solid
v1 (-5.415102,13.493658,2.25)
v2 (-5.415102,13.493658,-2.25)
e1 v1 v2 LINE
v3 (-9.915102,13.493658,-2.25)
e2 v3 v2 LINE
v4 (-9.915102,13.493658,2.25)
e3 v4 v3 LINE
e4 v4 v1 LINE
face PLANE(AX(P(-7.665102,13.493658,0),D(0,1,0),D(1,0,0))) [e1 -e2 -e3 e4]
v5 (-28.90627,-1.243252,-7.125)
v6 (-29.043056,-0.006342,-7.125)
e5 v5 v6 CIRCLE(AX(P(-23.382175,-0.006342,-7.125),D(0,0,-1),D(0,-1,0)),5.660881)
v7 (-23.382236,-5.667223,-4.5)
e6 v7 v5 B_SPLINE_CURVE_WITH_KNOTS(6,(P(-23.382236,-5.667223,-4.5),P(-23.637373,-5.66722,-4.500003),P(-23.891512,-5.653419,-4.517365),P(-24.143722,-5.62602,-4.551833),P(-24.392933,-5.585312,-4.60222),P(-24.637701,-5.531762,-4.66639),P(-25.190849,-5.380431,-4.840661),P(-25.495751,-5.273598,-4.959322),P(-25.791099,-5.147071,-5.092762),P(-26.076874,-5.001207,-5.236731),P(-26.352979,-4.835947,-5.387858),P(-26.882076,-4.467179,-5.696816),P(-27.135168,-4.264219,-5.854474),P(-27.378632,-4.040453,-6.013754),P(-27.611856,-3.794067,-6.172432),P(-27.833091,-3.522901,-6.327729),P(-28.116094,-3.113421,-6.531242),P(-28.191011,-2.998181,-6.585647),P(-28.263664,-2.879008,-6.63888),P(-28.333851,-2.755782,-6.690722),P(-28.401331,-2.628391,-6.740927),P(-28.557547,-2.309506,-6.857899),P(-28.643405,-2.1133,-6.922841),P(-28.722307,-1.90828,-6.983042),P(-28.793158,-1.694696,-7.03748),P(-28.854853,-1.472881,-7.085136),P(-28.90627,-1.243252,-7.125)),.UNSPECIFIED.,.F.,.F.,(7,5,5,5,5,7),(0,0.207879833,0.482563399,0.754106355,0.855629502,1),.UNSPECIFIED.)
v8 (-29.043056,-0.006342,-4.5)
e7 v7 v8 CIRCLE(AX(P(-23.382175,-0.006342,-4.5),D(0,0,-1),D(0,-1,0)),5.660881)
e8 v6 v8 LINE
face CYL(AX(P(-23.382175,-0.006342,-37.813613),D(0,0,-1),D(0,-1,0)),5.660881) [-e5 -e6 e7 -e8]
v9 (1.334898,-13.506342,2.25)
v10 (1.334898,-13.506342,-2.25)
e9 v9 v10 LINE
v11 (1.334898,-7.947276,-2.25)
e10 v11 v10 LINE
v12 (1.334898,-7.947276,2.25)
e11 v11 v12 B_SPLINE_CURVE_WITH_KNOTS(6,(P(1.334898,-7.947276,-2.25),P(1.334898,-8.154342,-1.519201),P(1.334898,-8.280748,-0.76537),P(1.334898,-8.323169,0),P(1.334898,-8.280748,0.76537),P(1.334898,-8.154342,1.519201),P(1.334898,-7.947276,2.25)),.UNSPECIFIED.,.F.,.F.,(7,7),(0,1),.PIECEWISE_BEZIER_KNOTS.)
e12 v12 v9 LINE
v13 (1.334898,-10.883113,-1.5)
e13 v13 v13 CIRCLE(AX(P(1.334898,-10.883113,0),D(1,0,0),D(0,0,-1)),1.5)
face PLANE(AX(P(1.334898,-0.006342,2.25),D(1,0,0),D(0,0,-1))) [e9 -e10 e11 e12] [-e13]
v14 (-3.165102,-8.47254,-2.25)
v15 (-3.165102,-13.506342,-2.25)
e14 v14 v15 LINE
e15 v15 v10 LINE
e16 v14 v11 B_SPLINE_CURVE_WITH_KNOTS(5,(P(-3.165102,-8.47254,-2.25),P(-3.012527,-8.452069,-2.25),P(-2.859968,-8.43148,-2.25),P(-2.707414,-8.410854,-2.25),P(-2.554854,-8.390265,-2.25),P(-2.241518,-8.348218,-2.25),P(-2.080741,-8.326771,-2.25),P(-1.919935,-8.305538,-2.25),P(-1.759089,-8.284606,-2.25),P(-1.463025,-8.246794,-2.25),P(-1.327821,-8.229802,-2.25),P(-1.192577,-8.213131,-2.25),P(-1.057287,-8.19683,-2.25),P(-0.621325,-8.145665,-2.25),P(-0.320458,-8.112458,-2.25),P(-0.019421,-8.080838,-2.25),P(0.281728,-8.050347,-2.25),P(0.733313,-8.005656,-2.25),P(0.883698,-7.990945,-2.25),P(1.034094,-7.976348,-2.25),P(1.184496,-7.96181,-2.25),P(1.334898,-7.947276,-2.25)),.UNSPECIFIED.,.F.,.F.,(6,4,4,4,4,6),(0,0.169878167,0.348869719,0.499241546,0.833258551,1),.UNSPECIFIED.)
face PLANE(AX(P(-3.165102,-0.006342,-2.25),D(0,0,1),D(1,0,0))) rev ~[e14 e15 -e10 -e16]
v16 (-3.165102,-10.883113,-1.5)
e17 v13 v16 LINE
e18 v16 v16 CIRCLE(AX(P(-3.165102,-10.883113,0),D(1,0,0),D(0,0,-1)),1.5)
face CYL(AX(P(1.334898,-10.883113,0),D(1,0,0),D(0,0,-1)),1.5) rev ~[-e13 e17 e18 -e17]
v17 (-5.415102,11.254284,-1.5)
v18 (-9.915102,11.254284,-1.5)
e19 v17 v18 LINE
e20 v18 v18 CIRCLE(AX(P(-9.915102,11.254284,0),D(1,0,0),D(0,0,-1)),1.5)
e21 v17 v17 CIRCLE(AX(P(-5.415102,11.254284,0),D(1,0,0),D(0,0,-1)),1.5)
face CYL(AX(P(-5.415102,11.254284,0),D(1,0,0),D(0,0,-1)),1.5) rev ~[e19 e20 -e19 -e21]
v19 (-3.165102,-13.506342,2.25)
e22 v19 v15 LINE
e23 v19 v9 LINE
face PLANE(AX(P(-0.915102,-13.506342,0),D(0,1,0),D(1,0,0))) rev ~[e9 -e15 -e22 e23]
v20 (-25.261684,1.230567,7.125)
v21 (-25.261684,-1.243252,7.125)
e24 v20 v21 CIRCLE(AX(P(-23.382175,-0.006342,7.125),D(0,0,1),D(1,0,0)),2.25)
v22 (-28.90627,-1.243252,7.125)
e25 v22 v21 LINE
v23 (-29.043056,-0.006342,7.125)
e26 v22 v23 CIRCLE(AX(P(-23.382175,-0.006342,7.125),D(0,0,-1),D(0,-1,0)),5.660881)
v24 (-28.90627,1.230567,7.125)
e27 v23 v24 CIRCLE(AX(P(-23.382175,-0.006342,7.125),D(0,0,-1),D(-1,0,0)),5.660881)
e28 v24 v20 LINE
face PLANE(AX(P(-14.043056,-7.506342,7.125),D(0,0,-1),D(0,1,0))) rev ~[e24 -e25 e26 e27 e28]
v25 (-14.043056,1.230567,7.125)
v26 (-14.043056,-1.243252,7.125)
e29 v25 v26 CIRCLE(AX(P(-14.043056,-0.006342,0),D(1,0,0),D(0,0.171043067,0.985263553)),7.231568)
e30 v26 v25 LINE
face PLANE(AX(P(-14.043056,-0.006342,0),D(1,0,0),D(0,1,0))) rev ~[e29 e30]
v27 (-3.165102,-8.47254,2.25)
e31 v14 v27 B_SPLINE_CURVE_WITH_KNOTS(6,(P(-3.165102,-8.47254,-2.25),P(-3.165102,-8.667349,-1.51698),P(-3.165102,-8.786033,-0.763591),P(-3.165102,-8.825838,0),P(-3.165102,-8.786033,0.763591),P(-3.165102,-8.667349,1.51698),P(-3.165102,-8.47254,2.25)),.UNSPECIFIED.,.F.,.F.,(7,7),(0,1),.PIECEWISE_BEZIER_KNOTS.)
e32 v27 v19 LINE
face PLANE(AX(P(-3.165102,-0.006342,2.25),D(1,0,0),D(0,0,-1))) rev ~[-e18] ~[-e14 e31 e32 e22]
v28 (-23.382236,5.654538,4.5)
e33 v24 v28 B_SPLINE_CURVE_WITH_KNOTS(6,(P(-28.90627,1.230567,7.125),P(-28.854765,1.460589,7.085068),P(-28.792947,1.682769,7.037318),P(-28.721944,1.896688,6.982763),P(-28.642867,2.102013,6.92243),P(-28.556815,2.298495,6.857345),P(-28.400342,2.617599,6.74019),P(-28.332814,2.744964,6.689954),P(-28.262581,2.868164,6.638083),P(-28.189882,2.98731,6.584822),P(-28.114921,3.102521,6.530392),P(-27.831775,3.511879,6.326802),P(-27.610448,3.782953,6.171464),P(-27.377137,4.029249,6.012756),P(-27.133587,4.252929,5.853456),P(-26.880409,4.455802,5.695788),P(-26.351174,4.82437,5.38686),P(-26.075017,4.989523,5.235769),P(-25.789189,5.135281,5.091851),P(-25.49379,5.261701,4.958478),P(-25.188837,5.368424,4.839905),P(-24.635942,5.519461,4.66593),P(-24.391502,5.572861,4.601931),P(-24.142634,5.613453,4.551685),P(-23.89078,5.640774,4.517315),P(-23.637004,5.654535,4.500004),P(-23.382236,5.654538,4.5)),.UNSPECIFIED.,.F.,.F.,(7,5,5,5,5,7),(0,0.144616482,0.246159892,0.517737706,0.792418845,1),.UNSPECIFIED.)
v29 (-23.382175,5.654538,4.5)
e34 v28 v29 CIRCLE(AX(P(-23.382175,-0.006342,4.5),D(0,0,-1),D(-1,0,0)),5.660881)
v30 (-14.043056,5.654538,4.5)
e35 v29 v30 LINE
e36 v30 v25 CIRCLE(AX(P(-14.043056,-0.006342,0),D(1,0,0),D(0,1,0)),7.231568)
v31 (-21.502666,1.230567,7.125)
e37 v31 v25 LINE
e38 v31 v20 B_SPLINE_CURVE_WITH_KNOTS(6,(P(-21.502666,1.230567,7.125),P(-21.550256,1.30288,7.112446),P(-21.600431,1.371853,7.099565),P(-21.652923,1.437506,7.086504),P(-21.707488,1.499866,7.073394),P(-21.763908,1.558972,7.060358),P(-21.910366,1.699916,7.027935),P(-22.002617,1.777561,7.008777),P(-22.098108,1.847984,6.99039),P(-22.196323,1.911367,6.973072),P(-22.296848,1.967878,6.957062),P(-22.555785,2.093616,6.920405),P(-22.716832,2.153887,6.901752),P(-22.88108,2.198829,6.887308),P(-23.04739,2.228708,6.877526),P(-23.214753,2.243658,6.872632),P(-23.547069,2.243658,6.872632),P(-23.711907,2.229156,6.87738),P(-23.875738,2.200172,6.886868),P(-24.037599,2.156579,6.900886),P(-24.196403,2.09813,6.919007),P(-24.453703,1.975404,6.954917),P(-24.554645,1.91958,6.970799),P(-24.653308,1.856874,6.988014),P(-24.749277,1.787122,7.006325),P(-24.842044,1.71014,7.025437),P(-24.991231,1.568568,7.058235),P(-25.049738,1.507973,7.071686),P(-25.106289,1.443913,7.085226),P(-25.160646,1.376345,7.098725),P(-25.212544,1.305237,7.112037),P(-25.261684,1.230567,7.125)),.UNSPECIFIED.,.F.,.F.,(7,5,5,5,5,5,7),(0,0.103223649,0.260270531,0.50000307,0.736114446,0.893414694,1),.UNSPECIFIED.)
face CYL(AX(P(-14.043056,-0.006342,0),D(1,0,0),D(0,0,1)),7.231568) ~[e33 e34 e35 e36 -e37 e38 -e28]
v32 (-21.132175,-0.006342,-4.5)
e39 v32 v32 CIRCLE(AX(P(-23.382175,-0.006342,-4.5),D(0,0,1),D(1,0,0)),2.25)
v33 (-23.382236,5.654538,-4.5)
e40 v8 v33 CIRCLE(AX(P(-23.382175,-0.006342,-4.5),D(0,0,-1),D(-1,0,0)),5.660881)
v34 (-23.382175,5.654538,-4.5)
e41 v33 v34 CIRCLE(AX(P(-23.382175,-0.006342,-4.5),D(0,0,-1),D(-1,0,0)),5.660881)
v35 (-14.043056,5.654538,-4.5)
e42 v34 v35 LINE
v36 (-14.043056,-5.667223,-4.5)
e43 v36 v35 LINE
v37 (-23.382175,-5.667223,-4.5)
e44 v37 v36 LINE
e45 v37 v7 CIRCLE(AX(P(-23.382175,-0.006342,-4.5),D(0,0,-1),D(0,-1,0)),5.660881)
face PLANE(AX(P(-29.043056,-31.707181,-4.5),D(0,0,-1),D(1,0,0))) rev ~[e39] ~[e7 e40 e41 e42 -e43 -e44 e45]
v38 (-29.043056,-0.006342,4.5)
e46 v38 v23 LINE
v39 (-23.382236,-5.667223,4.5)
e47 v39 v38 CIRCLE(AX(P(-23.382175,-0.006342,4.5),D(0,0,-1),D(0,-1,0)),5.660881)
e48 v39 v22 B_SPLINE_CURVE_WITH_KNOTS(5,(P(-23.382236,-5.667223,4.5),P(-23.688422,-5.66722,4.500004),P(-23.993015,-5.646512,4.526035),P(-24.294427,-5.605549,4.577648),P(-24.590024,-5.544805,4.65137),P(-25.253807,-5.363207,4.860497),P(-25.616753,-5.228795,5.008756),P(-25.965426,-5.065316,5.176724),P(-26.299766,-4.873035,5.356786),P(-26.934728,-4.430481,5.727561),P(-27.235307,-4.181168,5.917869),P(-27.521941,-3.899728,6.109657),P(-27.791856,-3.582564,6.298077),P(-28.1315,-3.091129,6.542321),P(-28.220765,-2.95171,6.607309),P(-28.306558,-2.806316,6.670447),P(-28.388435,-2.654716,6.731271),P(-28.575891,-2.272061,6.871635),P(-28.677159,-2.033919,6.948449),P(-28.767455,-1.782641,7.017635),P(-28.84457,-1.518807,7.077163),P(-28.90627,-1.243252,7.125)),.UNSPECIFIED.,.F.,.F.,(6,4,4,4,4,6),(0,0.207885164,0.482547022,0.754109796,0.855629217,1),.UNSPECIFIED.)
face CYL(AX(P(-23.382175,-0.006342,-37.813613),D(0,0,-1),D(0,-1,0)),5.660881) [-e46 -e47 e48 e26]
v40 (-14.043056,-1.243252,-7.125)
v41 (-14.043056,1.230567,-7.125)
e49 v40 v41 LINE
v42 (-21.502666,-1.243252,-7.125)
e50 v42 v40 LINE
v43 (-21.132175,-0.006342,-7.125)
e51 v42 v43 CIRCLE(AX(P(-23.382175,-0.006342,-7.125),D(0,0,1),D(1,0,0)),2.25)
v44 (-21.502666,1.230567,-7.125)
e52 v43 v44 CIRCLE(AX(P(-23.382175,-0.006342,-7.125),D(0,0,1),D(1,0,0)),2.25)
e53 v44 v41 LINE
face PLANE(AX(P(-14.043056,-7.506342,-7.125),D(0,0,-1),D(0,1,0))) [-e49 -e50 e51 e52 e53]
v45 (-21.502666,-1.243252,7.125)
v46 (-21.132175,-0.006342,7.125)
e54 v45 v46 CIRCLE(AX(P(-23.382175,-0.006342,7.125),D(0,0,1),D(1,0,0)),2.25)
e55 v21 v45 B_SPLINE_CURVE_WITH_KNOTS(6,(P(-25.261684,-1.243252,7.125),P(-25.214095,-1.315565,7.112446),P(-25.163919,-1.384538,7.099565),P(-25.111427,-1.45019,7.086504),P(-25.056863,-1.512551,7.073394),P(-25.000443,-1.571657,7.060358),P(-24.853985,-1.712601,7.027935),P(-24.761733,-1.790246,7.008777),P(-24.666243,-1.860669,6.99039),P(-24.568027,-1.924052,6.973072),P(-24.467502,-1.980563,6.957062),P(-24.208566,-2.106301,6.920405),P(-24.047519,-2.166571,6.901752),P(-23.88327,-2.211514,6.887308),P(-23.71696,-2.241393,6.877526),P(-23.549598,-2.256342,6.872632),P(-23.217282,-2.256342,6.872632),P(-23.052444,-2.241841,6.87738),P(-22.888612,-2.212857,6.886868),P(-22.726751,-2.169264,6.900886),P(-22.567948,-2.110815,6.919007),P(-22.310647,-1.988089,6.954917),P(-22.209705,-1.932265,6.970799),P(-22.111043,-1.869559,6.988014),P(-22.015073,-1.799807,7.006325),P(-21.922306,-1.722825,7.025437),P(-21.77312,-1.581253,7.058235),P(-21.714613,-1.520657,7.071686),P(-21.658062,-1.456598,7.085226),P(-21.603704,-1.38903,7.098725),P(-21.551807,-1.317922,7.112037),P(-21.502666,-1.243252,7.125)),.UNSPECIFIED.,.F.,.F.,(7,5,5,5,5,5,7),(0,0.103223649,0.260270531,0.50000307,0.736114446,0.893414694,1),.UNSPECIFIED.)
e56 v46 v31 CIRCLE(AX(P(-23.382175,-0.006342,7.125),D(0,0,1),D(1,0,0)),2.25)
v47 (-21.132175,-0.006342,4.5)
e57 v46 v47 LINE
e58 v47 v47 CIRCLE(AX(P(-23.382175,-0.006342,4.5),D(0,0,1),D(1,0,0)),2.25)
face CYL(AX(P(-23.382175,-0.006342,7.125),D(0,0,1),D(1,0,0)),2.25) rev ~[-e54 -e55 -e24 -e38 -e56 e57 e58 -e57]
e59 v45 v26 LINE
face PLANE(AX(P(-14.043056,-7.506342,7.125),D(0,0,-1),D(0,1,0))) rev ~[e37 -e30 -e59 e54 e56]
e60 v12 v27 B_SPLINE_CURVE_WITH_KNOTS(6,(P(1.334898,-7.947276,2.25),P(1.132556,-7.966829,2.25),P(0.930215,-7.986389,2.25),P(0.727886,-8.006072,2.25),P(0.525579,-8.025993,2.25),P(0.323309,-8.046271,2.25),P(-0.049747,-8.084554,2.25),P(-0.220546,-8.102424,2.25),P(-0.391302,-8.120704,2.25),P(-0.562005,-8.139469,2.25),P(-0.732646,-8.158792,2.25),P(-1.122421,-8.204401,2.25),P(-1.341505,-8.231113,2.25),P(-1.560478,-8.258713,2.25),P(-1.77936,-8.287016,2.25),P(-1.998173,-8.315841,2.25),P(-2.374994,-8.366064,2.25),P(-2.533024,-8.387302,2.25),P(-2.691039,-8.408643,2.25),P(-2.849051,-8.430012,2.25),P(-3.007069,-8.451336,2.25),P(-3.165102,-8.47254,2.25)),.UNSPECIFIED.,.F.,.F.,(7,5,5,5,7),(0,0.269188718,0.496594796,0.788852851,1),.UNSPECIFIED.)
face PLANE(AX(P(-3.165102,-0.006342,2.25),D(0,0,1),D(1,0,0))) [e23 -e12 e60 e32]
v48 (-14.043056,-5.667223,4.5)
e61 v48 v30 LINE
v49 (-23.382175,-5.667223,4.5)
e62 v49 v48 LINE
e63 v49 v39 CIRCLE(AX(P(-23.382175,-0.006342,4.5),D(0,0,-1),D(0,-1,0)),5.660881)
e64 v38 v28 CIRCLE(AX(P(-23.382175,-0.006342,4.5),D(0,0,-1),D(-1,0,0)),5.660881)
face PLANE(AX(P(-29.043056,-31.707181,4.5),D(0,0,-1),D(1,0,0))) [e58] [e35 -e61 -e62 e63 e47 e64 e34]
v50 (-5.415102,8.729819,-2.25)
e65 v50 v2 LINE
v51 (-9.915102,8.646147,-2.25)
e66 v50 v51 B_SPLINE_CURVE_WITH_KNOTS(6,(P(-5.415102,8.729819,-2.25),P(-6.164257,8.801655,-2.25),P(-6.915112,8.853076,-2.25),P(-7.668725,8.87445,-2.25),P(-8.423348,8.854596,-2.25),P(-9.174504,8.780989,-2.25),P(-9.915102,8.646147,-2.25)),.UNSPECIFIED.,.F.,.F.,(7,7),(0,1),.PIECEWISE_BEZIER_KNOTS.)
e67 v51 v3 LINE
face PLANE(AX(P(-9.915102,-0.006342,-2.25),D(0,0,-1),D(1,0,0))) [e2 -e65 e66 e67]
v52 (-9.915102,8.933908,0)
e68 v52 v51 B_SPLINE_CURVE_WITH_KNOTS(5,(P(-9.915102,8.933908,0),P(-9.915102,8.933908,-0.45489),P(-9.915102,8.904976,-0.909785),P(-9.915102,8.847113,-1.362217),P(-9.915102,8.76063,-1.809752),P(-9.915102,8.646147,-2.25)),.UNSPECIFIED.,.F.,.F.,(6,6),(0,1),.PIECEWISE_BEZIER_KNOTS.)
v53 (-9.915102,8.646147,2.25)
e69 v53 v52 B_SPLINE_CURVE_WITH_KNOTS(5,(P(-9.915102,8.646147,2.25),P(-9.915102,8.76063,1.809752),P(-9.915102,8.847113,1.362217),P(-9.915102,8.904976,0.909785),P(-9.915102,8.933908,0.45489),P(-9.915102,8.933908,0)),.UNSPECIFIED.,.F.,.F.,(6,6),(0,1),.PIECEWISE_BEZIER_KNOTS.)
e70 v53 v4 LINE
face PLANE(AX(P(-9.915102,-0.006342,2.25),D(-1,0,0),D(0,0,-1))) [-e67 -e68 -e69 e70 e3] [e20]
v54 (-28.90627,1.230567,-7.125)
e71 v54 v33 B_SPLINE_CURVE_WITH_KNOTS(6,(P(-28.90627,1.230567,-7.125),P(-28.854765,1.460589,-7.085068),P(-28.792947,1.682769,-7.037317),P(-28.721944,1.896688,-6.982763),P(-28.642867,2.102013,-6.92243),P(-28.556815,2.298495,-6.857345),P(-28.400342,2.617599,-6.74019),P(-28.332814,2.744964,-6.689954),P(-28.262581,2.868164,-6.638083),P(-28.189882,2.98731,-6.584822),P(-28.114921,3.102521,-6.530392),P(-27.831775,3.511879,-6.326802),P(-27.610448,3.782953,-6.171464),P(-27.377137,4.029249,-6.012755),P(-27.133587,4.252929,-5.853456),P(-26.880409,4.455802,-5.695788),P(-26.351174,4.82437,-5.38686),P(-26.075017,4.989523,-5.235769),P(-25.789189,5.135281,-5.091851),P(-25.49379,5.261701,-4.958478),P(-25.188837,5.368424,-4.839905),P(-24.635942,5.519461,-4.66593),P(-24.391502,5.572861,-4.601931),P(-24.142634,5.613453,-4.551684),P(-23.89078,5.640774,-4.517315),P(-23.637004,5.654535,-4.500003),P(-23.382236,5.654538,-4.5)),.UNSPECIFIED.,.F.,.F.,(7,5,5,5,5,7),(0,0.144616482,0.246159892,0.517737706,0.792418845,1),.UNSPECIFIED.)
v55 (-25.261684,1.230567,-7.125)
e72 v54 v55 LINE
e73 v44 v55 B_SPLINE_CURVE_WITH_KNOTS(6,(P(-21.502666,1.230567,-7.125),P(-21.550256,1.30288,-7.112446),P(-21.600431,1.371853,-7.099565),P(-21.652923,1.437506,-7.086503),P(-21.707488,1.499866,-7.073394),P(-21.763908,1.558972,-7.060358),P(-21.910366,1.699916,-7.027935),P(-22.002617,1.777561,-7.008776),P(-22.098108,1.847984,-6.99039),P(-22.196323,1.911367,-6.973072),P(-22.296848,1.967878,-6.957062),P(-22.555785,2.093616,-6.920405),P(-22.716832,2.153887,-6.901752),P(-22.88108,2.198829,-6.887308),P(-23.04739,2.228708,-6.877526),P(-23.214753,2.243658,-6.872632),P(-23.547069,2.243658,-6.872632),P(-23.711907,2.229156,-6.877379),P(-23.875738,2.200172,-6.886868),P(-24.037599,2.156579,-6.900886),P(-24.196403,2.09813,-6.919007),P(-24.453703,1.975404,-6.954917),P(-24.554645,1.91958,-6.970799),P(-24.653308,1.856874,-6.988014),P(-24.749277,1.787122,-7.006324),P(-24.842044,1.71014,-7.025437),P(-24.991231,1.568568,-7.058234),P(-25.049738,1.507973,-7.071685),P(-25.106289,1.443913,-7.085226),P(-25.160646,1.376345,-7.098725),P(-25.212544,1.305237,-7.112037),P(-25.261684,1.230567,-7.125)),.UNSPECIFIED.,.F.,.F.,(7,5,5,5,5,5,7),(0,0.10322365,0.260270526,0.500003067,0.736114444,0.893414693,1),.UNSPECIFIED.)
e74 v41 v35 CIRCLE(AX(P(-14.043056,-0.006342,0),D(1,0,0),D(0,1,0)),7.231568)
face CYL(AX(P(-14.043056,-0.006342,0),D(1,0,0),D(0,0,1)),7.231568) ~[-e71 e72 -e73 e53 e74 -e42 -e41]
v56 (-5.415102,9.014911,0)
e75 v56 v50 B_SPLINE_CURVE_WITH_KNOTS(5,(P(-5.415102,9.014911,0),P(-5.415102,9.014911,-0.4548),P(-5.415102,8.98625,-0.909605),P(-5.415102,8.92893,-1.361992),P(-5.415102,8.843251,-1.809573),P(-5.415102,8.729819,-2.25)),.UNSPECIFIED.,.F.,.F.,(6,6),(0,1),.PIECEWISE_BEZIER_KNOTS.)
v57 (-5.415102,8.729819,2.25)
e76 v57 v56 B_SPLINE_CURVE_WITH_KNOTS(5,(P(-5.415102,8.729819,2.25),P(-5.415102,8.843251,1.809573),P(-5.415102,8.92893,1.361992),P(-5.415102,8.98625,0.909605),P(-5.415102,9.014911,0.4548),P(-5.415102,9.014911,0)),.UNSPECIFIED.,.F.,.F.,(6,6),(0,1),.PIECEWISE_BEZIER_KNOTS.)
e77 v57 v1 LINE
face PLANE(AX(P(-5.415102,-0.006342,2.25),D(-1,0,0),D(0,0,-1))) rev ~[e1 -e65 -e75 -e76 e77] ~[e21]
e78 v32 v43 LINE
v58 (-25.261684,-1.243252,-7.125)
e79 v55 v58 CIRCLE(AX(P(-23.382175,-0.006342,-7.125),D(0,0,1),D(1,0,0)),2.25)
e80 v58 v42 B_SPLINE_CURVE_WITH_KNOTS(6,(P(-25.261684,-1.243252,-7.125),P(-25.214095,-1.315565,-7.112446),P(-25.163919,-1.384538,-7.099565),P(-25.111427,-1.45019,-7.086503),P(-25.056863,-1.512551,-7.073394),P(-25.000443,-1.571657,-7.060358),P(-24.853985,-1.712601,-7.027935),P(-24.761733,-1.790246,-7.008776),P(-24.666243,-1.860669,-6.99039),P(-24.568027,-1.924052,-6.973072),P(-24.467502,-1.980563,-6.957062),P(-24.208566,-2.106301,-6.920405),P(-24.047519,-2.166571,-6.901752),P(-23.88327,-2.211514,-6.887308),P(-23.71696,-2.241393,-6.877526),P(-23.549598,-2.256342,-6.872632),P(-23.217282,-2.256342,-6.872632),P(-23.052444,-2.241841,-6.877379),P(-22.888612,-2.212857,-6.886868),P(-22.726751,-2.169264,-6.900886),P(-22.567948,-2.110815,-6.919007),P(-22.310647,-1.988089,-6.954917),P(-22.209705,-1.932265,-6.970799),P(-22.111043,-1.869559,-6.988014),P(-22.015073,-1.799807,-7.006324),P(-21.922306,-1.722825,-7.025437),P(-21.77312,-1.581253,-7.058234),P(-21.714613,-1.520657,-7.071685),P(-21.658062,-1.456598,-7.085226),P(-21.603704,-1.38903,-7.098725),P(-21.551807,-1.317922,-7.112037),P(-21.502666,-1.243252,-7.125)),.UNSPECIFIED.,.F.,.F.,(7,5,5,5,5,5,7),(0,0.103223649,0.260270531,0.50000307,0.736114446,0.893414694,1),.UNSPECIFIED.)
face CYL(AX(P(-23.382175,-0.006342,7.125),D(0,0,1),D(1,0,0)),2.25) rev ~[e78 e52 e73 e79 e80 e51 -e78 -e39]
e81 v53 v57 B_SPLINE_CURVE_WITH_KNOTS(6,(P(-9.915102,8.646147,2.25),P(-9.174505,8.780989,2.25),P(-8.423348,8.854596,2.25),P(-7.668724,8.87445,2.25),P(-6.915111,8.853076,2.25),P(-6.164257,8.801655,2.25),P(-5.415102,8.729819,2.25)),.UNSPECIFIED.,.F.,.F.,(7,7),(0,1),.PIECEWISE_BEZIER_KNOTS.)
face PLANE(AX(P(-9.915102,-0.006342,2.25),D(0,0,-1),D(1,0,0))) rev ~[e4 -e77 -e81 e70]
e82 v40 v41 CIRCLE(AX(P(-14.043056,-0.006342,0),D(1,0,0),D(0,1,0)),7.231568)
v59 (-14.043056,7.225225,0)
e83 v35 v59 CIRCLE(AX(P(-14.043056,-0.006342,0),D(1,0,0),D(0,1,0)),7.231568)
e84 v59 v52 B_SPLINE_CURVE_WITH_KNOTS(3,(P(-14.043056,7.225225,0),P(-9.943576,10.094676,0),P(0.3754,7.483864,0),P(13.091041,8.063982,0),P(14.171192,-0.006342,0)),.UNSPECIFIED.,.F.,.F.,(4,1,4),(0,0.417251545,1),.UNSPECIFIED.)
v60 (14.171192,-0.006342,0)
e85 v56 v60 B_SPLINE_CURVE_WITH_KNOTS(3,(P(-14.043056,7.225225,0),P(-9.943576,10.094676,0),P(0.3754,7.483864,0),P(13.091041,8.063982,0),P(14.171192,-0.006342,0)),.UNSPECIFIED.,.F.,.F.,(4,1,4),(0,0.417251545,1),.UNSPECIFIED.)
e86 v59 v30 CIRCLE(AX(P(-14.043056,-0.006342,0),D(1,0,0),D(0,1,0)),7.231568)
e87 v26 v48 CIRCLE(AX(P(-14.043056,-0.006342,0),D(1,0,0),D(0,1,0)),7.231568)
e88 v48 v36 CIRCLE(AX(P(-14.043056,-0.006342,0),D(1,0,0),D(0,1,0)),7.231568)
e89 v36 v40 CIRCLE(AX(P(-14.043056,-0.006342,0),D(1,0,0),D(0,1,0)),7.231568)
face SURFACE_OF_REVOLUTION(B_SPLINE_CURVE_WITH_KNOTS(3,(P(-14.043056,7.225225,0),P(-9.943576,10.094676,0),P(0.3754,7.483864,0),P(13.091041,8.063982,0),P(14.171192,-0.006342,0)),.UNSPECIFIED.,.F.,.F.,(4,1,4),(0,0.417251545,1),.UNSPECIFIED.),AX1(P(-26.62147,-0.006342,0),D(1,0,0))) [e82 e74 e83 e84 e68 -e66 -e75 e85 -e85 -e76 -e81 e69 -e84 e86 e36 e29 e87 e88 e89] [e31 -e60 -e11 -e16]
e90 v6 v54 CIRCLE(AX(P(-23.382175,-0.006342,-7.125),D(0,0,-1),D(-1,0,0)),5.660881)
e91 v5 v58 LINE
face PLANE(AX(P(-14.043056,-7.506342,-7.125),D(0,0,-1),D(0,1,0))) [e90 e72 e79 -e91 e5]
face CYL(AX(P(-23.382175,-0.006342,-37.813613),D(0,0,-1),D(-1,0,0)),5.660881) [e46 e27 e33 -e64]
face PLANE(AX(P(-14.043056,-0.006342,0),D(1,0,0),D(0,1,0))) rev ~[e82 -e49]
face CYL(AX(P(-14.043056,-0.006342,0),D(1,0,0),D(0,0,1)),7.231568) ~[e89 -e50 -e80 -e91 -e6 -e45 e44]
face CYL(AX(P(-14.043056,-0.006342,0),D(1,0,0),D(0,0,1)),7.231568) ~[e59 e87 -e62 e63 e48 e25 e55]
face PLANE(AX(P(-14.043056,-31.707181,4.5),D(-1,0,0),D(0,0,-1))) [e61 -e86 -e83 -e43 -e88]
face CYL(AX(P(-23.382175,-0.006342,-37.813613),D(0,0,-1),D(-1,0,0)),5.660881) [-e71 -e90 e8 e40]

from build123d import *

# Parameters (mm, degrees)
SKETCH2_W               = 19
SKETCH2_H               = 20
BOSS_EXTRUDE1_DEPTH     = 20
SKETCH3_R               = 15
SKETCH3_R_2             = 9.642090149
CUT_EXTRUDE1_DEPTH      = 42.372377867
CUT_EXTRUDE2_DEPTH      = 42.267785166
CUT_EXTRUDE2_DEPTH_BACK = 42.267785166
SKETCH4_W               = 20
SKETCH4_H               = 12
CUT_EXTRUDE3_DEPTH      = 44.418151428
CUT_EXTRUDE3_DEPTH_BACK = 44.418151428
SKETCH7_R               = 3
CUT_EXTRUDE4_DEPTH      = 45.995713719
SKETCH8_W               = 6
SKETCH8_H               = 6
BOSS_EXTRUDE3_DEPTH     = 18
SKETCH9_R               = 2
CUT_EXTRUDE5_DEPTH      = 16
SKETCH10_W              = 6
SKETCH10_H              = 6
BOSS_EXTRUDE4_DEPTH     = 18
SKETCH11_R              = 2
CUT_EXTRUDE6_DEPTH      = 39.271928202
SCALE1_SCALE            = 0.75


with BuildPart() as part:
    # Sketch1 → Revolve1 (revolve)
    with BuildSketch(Plane.XY):
        with BuildLine():
            Line((-17.503938211, 9.642090149), (-17.503938211, 0))
            Line((-17.503938211, 0), (20.115058741, 0))
            add(Edge.make_bspline(
                [(-17.503938211, 9.642090149), (-12.037965172, 13.468024809), (1.720669261, 9.986942396), (18.674857326, 10.7604322), (20.115058741, 0)],
                knots=[0, 0, 0, 0, 0.417251545, 1, 1, 1, 1], degree=3))
        make_face()
    revolve(axis=Axis((-34.275157211, 0, 0), (1, 0, 0)))

    # Sketch2 → Boss-Extrude1 (add)
    with BuildSketch(Plane.ZY.offset(17.503938211)):
        Rectangle(SKETCH2_W, SKETCH2_H)
    extrude(amount=BOSS_EXTRUDE1_DEPTH)

    # Sketch3 → Cut-Extrude1 (cut, through all)
    with BuildSketch(Plane.ZY.offset(17.503938211)):
        Circle(SKETCH3_R)
        Circle(SKETCH3_R_2, mode=Mode.SUBTRACT)
    extrude(amount=CUT_EXTRUDE1_DEPTH, mode=Mode.SUBTRACT)

    # Sketch4 → Cut-Extrude2 (cut, two sides: drawn at the far end of the back side and taken through both)
    with BuildSketch(Plane(origin=(0, 0, 0), x_dir=(1, 0, 0), z_dir=(0, 1, 0)).offset(-CUT_EXTRUDE2_DEPTH_BACK)):
        with Locations((-27.503938211, 0)):
            Rectangle(SKETCH4_W, SKETCH4_H)
    extrude(amount=CUT_EXTRUDE2_DEPTH + CUT_EXTRUDE2_DEPTH_BACK, mode=Mode.SUBTRACT)

    # Sketch6 → Cut-Extrude3 (cut, two sides: drawn at the far end of the back side and taken through both)
    with BuildSketch(Plane.XY.offset(-6).offset(-CUT_EXTRUDE3_DEPTH_BACK)):
        with BuildLine():
            Line((-37.503938211, -7.547840913), (-29.956097298, -7.547840913))
            ThreePointArc((-29.956097298, -7.547840913), (-35.293226791, -5.337129493), (-37.503938211, 0))
            Line((-37.503938211, 0), (-37.503938211, -7.547840913))
        make_face()
        with BuildLine():
            Line((-37.503938211, 7.547840913), (-37.503938211, 0))
            ThreePointArc((-37.503938211, 0), (-35.293226791, 5.337129493), (-29.956097298, 7.547840913))
            Line((-29.956097298, 7.547840913), (-37.503938211, 7.547840913))
        make_face()
    extrude(amount=CUT_EXTRUDE3_DEPTH + CUT_EXTRUDE3_DEPTH_BACK, mode=Mode.SUBTRACT)

    # Sketch7 → Cut-Extrude4 (cut, through all)
    with BuildSketch(Plane.XY.offset(9.5)):
        with Locations((-29.956097298, 0)):
            Circle(SKETCH7_R)
    extrude(amount=-CUT_EXTRUDE4_DEPTH, mode=Mode.SUBTRACT)

    # Sketch8 → Boss-Extrude3 (add)
    with BuildSketch(Plane(origin=(0, 0, 0), x_dir=(1, 0, 0), z_dir=(0, 1, 0))):
        Rectangle(SKETCH8_W, SKETCH8_H)
    extrude(amount=-BOSS_EXTRUDE3_DEPTH)

    # Sketch9 → Cut-Extrude5 (cut)
    with BuildSketch(Plane(origin=(3, 0, 0), x_dir=(0, 0, -1), z_dir=(1, 0, 0))):
        with Locations((0, -14.50236021)):
            Circle(SKETCH9_R)
    extrude(amount=-CUT_EXTRUDE5_DEPTH, mode=Mode.SUBTRACT)

    # Sketch10 → Boss-Extrude4 (add)
    with BuildSketch(Plane(origin=(0, 0, 0), x_dir=(1, 0, 0), z_dir=(0, 1, 0))):
        with Locations((-9, 0)):
            Rectangle(SKETCH10_W, SKETCH10_H)
    extrude(amount=BOSS_EXTRUDE4_DEPTH)

    # Sketch11 → Cut-Extrude6 (cut, through all)
    with BuildSketch(Plane(origin=(-6, 0, 0), x_dir=(0, 0, -1), z_dir=(1, 0, 0))):
        with Locations((0, 15.01416918)):
            Circle(SKETCH11_R)
    extrude(amount=-CUT_EXTRUDE6_DEPTH, mode=Mode.SUBTRACT)


with BuildPart() as part_1:
    # Scale1: scaled about (-3.660408947, -0.025369867, 3.84e-07)
    add(part.part.scale(SCALE1_SCALE).moved(Location((-0.915102237, -0.006342467, 9.6e-08))))


solid = part_1.part
